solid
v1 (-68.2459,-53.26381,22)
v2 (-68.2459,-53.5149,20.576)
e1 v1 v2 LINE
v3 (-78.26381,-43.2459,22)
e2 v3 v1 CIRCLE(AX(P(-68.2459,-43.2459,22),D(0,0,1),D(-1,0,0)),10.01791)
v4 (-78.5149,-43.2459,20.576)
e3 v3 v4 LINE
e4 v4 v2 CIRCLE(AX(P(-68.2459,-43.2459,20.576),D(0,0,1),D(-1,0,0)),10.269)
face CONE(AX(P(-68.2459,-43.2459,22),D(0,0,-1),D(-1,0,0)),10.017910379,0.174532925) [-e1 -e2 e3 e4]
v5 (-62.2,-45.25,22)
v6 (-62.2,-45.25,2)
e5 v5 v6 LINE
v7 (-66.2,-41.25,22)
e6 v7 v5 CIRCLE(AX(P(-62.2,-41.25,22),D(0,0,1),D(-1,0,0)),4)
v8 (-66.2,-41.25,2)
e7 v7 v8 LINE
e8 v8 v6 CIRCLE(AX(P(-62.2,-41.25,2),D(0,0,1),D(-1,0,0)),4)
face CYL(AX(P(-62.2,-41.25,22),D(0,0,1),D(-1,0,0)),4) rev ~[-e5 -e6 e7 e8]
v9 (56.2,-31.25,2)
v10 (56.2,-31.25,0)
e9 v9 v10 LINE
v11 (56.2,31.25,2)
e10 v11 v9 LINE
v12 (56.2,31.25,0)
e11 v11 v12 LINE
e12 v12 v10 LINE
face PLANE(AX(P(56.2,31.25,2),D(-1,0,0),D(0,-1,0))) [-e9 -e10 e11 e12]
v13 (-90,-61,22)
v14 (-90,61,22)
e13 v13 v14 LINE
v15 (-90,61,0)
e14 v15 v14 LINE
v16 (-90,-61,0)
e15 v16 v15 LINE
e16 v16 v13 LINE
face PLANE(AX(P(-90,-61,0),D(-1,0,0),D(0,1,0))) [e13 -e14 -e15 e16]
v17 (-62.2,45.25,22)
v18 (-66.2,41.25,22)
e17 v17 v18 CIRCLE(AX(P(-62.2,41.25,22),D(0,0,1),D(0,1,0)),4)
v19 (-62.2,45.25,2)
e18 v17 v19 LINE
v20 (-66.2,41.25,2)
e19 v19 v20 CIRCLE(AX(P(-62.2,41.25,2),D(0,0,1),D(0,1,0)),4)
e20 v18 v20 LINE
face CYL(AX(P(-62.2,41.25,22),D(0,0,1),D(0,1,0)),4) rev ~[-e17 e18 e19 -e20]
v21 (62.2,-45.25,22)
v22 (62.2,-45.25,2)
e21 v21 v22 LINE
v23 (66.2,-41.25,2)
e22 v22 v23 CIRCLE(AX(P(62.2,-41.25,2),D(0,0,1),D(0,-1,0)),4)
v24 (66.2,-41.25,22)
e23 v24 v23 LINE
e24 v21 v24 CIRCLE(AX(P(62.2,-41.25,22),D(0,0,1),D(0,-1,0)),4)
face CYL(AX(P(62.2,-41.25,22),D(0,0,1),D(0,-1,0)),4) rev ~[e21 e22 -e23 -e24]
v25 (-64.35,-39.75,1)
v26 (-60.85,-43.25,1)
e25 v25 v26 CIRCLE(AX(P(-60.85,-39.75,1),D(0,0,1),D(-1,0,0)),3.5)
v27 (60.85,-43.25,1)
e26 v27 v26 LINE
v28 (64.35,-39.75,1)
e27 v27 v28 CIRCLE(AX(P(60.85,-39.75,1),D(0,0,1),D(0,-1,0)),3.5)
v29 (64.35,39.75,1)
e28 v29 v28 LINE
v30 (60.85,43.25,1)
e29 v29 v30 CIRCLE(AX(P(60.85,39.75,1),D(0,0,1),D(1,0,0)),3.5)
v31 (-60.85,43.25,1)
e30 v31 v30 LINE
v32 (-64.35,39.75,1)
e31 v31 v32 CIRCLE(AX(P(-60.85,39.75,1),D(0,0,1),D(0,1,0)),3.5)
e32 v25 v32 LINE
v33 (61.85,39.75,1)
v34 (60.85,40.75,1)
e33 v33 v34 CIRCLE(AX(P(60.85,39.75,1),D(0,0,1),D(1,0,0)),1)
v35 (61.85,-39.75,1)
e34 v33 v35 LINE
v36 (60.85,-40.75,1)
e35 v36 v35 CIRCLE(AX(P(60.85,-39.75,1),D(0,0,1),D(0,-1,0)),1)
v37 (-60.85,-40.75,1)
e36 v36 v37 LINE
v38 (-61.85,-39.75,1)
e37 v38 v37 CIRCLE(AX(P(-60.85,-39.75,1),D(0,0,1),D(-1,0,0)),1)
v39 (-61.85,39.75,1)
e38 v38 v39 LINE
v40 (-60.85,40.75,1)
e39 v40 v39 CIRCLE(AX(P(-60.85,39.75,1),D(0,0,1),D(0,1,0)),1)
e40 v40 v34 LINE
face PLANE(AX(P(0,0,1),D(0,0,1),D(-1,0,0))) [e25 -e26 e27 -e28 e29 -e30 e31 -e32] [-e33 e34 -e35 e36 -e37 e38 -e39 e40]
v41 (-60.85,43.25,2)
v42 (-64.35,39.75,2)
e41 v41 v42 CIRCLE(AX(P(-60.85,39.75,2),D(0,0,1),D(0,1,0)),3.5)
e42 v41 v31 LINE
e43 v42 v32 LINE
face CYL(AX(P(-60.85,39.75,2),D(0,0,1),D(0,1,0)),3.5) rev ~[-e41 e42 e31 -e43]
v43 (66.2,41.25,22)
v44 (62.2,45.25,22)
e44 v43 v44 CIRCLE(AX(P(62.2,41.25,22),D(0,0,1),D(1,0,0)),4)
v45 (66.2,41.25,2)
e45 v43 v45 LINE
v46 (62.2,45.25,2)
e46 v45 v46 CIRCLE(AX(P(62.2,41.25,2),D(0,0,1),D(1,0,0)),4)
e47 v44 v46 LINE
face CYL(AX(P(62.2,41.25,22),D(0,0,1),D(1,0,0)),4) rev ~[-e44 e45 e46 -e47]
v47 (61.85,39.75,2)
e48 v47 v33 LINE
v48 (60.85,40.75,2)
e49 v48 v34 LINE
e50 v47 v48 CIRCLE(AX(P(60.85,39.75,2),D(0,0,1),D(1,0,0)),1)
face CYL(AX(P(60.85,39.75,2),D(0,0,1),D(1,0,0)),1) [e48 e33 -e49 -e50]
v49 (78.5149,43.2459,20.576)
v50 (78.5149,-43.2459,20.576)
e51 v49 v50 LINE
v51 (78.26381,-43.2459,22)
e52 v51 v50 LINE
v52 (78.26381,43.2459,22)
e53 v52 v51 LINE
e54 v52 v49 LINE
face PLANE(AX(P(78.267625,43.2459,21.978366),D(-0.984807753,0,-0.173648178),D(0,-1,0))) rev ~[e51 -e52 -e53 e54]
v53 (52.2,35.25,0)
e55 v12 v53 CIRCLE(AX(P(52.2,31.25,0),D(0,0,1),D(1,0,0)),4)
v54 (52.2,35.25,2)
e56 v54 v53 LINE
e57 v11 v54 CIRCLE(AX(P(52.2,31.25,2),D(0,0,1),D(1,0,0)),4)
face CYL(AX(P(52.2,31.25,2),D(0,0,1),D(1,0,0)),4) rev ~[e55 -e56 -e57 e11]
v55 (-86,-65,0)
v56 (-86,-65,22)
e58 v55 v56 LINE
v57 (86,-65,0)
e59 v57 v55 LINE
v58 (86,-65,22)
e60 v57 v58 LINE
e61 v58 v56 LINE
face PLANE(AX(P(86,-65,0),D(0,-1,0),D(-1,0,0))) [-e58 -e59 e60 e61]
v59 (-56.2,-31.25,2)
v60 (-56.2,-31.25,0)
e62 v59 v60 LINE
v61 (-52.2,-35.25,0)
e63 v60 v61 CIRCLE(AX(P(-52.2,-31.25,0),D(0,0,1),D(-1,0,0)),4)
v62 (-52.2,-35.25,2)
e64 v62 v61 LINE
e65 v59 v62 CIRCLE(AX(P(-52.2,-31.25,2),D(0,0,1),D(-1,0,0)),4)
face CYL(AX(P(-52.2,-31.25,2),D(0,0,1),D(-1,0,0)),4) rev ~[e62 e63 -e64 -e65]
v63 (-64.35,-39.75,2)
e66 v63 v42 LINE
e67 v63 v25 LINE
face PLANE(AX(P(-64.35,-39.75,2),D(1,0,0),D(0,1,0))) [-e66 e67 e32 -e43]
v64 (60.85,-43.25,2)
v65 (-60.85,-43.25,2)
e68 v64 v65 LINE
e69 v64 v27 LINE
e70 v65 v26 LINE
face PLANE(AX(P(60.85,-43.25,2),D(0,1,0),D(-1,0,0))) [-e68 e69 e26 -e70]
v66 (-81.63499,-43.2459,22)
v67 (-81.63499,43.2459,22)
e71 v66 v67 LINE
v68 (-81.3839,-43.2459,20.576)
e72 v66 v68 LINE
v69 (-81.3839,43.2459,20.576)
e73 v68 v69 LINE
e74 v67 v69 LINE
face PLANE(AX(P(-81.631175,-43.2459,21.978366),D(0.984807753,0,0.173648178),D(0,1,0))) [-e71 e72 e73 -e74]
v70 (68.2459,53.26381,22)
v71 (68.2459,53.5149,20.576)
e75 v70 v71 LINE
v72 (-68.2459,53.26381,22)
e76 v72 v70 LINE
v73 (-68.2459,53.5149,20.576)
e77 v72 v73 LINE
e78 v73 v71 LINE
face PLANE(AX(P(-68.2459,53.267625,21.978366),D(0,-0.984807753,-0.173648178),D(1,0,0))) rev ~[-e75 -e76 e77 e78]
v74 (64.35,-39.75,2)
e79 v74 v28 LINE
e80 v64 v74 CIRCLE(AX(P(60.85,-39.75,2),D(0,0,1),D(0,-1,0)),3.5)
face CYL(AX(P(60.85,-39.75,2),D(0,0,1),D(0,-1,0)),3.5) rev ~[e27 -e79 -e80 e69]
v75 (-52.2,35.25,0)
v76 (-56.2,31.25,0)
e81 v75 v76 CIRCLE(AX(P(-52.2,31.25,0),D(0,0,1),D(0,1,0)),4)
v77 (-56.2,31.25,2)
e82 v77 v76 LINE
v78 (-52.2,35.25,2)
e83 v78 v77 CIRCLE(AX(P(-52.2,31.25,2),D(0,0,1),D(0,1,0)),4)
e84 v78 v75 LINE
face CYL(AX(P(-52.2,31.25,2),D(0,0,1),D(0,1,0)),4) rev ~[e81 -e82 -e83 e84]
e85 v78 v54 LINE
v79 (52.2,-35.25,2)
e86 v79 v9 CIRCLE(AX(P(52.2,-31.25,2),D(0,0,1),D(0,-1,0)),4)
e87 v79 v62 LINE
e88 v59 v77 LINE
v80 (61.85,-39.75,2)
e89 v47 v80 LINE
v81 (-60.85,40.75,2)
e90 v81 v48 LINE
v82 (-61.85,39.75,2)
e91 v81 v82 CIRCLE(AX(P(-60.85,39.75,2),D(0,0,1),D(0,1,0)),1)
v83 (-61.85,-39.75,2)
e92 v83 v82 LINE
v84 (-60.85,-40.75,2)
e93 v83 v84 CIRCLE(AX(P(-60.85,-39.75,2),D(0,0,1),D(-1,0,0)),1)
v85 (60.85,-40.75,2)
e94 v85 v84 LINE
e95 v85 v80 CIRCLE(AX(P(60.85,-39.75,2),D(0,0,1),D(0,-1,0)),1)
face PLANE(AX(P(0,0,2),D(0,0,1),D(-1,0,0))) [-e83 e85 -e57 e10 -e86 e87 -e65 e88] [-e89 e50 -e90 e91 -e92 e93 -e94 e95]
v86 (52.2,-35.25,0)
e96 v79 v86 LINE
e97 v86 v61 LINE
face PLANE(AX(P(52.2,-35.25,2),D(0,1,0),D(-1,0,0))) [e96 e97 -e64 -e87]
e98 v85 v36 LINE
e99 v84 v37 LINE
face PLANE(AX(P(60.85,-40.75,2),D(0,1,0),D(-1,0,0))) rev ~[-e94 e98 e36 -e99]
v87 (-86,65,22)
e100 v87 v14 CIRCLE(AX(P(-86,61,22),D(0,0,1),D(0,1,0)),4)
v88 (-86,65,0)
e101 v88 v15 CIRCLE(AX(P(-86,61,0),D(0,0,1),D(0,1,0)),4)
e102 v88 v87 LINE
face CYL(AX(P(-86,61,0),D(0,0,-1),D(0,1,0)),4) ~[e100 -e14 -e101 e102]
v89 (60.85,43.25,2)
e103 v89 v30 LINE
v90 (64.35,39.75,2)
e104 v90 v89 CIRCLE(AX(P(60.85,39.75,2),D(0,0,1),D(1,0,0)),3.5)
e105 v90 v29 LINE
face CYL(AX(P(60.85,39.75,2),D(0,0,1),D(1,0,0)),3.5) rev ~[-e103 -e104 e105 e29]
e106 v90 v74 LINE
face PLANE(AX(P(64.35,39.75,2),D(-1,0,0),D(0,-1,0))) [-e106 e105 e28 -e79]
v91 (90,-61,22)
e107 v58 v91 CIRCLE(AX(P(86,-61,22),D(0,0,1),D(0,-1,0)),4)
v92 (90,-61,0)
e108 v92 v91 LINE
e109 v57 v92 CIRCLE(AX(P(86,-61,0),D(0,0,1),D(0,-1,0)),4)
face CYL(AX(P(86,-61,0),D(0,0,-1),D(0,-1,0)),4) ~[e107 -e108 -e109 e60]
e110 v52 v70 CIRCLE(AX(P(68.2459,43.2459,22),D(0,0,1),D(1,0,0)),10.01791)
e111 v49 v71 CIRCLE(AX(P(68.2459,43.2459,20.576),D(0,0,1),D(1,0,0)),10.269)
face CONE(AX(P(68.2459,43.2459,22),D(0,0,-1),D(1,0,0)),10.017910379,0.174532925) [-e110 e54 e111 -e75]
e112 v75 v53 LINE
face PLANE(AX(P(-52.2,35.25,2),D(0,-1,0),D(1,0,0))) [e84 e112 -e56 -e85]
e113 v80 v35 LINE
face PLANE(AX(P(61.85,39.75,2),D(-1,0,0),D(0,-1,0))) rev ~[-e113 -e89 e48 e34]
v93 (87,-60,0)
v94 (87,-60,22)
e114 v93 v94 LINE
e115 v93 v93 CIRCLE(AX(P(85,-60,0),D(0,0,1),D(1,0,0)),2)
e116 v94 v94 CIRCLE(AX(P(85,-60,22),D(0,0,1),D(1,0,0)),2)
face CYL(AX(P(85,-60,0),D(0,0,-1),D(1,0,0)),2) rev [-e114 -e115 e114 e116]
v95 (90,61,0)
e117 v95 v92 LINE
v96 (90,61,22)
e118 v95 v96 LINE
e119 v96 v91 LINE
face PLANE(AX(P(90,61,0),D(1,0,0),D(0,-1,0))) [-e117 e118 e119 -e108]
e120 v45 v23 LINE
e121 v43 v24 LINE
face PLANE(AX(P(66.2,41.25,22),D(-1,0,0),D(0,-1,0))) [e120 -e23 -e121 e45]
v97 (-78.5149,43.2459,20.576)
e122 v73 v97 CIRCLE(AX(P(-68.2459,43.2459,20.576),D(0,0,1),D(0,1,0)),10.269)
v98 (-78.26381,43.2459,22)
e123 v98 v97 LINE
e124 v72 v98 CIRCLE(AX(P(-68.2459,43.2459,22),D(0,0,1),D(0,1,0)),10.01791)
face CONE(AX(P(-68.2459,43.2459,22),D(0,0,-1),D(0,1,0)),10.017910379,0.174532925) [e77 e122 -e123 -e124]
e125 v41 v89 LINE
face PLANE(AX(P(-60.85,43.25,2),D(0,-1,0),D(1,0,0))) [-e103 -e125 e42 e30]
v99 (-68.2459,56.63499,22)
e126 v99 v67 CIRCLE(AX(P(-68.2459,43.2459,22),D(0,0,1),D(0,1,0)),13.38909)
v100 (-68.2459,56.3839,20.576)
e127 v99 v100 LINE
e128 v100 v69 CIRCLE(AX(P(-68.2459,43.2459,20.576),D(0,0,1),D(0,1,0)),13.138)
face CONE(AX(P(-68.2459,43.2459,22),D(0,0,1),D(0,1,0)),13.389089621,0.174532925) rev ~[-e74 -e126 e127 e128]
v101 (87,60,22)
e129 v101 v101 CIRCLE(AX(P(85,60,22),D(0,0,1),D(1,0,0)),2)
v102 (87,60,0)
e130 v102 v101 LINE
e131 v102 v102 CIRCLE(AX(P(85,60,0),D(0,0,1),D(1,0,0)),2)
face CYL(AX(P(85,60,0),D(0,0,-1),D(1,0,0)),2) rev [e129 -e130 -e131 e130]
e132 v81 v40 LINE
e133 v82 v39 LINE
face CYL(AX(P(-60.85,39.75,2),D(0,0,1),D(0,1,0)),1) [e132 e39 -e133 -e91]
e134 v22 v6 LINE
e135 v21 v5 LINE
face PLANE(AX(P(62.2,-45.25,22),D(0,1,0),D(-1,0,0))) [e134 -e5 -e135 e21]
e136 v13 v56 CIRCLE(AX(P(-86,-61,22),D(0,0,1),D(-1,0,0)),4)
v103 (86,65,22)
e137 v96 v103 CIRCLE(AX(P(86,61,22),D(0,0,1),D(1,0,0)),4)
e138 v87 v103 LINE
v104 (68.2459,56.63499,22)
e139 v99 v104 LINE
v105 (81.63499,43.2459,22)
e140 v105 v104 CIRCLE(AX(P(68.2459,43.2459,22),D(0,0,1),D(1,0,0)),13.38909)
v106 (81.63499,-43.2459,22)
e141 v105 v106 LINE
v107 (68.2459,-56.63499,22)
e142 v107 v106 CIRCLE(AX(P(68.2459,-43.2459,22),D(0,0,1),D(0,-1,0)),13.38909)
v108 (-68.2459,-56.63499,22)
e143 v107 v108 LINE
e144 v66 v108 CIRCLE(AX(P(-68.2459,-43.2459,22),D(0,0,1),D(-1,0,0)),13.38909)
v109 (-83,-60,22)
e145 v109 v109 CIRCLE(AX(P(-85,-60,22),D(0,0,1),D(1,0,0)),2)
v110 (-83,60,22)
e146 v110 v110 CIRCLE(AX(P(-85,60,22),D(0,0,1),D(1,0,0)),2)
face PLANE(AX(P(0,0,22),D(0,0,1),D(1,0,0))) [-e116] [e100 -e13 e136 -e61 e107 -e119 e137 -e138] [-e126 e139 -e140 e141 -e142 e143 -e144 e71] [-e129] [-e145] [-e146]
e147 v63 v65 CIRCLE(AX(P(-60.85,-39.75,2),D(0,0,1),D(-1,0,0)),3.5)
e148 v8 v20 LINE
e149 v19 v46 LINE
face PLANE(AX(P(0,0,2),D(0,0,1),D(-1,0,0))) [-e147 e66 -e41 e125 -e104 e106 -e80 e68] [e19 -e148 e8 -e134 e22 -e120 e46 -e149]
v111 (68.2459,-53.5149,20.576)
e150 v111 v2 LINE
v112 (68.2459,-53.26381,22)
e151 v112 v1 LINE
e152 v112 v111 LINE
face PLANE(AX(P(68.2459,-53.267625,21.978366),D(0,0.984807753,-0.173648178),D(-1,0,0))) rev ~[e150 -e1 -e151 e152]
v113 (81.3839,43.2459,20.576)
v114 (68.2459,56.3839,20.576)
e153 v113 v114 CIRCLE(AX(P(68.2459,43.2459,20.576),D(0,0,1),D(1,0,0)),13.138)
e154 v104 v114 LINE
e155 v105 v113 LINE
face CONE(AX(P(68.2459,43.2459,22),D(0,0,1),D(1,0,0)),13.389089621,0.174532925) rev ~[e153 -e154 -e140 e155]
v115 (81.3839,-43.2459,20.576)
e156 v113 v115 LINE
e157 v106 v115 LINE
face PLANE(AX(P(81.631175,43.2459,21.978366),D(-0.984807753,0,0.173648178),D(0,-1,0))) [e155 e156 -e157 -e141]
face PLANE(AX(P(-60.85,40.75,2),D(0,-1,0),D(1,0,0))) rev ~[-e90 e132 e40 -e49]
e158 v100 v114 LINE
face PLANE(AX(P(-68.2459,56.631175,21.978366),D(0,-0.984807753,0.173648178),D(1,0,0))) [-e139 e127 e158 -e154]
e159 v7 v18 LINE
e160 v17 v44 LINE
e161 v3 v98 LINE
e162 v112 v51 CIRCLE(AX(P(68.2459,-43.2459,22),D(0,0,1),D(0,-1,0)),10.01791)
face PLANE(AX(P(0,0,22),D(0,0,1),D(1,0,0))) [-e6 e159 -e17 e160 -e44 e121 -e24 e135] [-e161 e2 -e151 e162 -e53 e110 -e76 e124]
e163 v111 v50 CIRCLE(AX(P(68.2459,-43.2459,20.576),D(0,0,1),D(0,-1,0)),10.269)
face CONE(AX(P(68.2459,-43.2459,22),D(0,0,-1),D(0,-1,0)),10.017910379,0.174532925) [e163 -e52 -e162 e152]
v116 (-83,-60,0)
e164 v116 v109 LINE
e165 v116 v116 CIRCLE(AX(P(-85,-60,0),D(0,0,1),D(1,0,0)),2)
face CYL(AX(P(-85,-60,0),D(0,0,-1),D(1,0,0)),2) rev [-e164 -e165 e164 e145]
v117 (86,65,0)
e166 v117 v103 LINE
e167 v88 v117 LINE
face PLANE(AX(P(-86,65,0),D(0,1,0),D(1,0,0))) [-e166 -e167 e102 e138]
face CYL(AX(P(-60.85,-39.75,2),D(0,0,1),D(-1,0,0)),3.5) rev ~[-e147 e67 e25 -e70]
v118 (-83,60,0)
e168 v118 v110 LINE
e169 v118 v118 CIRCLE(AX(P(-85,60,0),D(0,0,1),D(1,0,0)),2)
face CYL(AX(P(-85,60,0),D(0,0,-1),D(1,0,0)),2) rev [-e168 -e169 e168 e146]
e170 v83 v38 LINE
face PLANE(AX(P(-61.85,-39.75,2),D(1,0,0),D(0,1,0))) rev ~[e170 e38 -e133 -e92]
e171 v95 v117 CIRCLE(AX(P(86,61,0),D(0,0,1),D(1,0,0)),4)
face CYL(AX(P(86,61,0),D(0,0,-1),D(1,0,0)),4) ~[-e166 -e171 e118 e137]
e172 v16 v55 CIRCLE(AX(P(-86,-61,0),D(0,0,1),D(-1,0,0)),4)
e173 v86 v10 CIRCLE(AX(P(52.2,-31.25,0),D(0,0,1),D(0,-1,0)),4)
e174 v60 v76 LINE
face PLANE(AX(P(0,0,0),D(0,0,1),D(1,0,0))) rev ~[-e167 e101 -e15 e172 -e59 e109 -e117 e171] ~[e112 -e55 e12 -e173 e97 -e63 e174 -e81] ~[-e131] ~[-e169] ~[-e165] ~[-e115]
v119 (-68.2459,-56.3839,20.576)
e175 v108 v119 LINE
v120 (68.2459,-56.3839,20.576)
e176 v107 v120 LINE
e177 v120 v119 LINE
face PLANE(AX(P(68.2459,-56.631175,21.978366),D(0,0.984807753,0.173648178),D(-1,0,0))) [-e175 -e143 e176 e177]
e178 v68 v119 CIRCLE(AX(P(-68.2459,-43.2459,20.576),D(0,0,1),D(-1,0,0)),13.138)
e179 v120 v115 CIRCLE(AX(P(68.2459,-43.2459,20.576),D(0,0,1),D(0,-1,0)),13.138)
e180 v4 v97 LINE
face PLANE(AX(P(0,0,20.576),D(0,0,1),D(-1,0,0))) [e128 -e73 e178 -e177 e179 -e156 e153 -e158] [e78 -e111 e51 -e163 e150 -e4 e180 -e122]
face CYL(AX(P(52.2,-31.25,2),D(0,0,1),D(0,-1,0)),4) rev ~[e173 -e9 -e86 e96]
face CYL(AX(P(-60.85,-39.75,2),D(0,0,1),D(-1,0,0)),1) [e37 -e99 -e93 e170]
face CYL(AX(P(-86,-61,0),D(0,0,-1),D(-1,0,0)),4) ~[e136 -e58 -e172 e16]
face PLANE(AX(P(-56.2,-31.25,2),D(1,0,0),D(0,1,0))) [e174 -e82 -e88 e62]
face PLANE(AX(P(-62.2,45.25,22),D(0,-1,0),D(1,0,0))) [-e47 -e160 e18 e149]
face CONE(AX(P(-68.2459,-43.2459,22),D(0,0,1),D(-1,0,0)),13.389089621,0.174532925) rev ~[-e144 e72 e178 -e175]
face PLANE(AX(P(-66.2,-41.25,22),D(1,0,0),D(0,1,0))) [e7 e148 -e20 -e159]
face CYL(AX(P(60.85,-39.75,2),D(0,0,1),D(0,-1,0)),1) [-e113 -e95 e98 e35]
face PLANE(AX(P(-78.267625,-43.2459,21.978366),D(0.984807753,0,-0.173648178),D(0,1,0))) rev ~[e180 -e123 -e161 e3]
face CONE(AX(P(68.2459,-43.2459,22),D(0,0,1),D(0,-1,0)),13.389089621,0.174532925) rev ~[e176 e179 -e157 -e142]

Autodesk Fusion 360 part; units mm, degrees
sketch "Sketch1" plane through (0, 0, 0) normal (0, 0, 1) x (1, 0, 0)
  line L0 (86, -65) -> (-86, -65)
  line L1 (-90, -61) -> (-90, 61)
  line L2 (-86, 65) -> (86, 65)
  line L3 (90, 61) -> (90, -61)
  line L4 (90, -65) -> (-90, 65) construction
  line L5 (-90, -65) -> (90, 65) construction
  arc A0 (-86, 65) -> (-90, 61) centre (-86, 61) ccw
  arc A1 (90, 61) -> (86, 65) centre (86, 61) ccw
  arc A2 (86, -65) -> (90, -61) centre (86, -61) ccw
  arc A3 (-90, -61) -> (-86, -65) centre (-86, -61) ccw
  circle A4 centre (-85, 60) radius 2
  line L6 (0, 65) -> (0, -65) construction
  line L7 (90, 0) -> (-90, 0) construction
  circle A5 centre (85, 60) radius 2
  circle A6 centre (85, -60) radius 2
  circle A7 centre (-85, -60) radius 2
  dimension "d1" = 180
  dimension "d2" = 130
  dimension "d26" = 4
  dimension "d27" = 4
  dimension "d28" = 4
  dimension "d29" = 4
  dimension "d30" = 4
  dimension "d31" = 5
  dimension "d32" = 5
extrude "Extrude1" add sketch "Sketch1" along normal blind 22
sketch "Sketch2" plane through (0, 0, 22) normal (0, 0, 1) x (-1, 0, 0)
  line L0 (-86, -65) -> (86, -65)
  line L1 (90, -61) -> (90, 61)
  line L2 (86, 65) -> (-86, 65)
  line L3 (-90, 61) -> (-90, -61)
  line L4 (-62.2, 45.25) -> (62.2, 45.25)
  line L5 (66.2, 41.25) -> (66.2, -41.25)
  line L6 (62.2, -45.25) -> (-62.2, -45.25)
  line L7 (-66.2, -41.25) -> (-66.2, 41.25)
  line L8 (-66.2, 45.25) -> (66.2, -45.25) construction
  line L9 (66.2, 45.25) -> (-66.2, -45.25) construction
  arc A0 (86, -65) -> (90, -61) centre (86, -61) ccw
  arc A1 (90, 61) -> (86, 65) centre (86, 61) ccw
  arc A2 (-86, 65) -> (-90, 61) centre (-86, 61) ccw
  arc A3 (-90, -61) -> (-86, -65) centre (-86, -61) ccw
  circle A4 centre (85, 60) radius 2
  circle A5 centre (-85, 60) radius 2
  circle A6 centre (-85, -60) radius 2
  circle A7 centre (85, -60) radius 2
  arc A8 (62.2, -45.25) -> (66.2, -41.25) centre (62.2, -41.25) ccw
  arc A9 (-66.2, -41.25) -> (-62.2, -45.25) centre (-62.2, -41.25) ccw
  arc A10 (66.2, 41.25) -> (62.2, 45.25) centre (62.2, 41.25) ccw
  arc A11 (-62.2, 45.25) -> (-66.2, 41.25) centre (-62.2, 41.25) ccw
  dimension "d5" = 132.4
  dimension "d6" = 90.5
  dimension "d52" = 4
  dimension "d53" = 4
  dimension "d54" = 4
  dimension "d55" = 4
extrude "Extrude2" cut sketch "Sketch2" against normal blind 20 contours L4 L5 L6 L7 A8 A9 A10 A11
sketch "Sketch3" plane through (0, 0, 22) normal (0, 0, 1) x (-1, 0, 0)
  line L0 (66.2, 41.25) -> (66.2, -41.25)
  line L1 (62.2, -45.25) -> (-62.2, -45.25)
  line L2 (-66.2, -41.25) -> (-66.2, 41.25)
  line L3 (-62.2, 45.25) -> (62.2, 45.25)
  line L4 (-86, -65) -> (86, -65)
  line L5 (90, -61) -> (90, 61)
  line L6 (86, 65) -> (-86, 65)
  line L7 (-90, 61) -> (-90, -61)
  line L8 (-79.9494, 54.9494) -> (79.9494, 54.9494) construction
  line L9 (79.9494, 54.9494) -> (79.9494, -54.9494) construction
  line L10 (79.9494, -54.9494) -> (-79.9494, -54.9494) construction
  line L11 (-79.9494, -54.9494) -> (-79.9494, 54.9494) construction
  line L12 (-79.9494, 54.9494) -> (79.9494, -54.9494) construction
  line L13 (79.9494, 54.9494) -> (-79.9494, -54.9494) construction
  line L14 (78.5149, 43.2459) -> (78.5149, -43.2459)
  line L15 (68.2459, -53.5149) -> (-68.2459, -53.5149)
  line L16 (-78.5149, -43.2459) -> (-78.5149, 43.2459)
  line L17 (-69.5341, 47.3937) -> (78.5149, -53.5149) construction
  line L18 (70.6619, 45.6619) -> (-70.6619, -45.6619) construction
  line L19 (-68.2459, 56.3839) -> (68.2459, 56.3839)
  line L20 (81.3839, 43.2459) -> (81.3839, -43.2459)
  line L21 (68.2459, -56.3839) -> (-68.2459, -56.3839)
  line L22 (-81.3839, -43.2459) -> (-81.3839, 43.2459)
  line L23 (-72.429, 50.1798) -> (81.3839, -56.3839) construction
  line L24 (73.5309, 48.5309) -> (-73.5309, -48.5309) construction
  arc A0 (68.2459, -53.5149) -> (78.5149, -43.2459) centre (68.2459, -43.2459) ccw
  arc A1 (68.2459, -56.3839) -> (81.3839, -43.2459) centre (68.2459, -43.2459) ccw
  line L25 (0, -65) -> (0, 65) construction
  line L26 (-90, 0) -> (90, 0) construction
  arc A2 (-78.5149, -43.2459) -> (-68.2459, -53.5149) centre (-68.2459, -43.2459) ccw
  arc A3 (-81.3839, -43.2459) -> (-68.2459, -56.3839) centre (-68.2459, -43.2459) ccw
  arc A4 (-68.2459, 53.5149) -> (-78.5149, 43.2459) centre (-68.2459, 43.2459) ccw
  arc A5 (-68.2459, 56.3839) -> (-81.3839, 43.2459) centre (-68.2459, 43.2459) ccw
  arc A6 (78.5149, 43.2459) -> (68.2459, 53.5149) centre (68.2459, 43.2459) ccw
  arc A7 (81.3839, 43.2459) -> (68.2459, 56.3839) centre (68.2459, 43.2459) ccw
  line L27 (-68.2459, 53.5149) -> (68.2459, 53.5149)
  arc A8 (86, -65) -> (90, -61) centre (86, -61) ccw
  arc A9 (90, 61) -> (86, 65) centre (86, 61) ccw
  arc A10 (-86, 65) -> (-90, 61) centre (-86, 61) ccw
  arc A11 (-90, -61) -> (-86, -65) centre (-86, -61) ccw
  circle A12 centre (85, 60) radius 2
  circle A13 centre (-85, 60) radius 2
  circle A14 centre (-85, -60) radius 2
  circle A15 centre (85, -60) radius 2
  arc A16 (66.2, 41.25) -> (62.2, 45.25) centre (62.2, 41.25) ccw
  arc A17 (62.2, -45.25) -> (66.2, -41.25) centre (62.2, -41.25) ccw
  arc A18 (-66.2, -41.25) -> (-62.2, -45.25) centre (-62.2, -41.25) ccw
  arc A19 (-62.2, 45.25) -> (-66.2, 41.25) centre (-62.2, 41.25) ccw
  dimension "d9" = 159.8988
  dimension "d15" = 109.8988
  dimension "d16" = 1.4345
  dimension "d17" = 1.4345
  dimension "d18" = 1.4345
  dimension "d19" = 1.4345
  dimension "d20" = 10.269
  dimension "d21" = 13.138
extrude "Extrude3" cut sketch "Sketch3" against normal blind 1.424 contours L19 L20 L21 L22 A1 A3 A5 A7
draft "Draft1" angle 10 neutral plane through (0, 0, 20.576) pull (0, 0, 1) 16 faces at (-78.5149, -14.4153, 21.5253) (-70.6669, 53.2254, 21.0507) (-22.7486, 53.5149, 21.5253) (74.2025, 51.6108, 21.0507) (78.5149, 14.4153, 21.0507) (71.6046, -52.9501, 21.5253) (22.7486, -53.5149, 21.5253) (-70.6669, -53.2254, 21.0507) (-81.3839, -14.4153, 21.5253) (-68.871, -56.369, 21.0507) (22.7486, -56.3839, 21.0507) (77.7543, -52.3122, 21.0507) (81.3839, 14.4153, 21.5253) (77.3122, 52.7543, 21.0507) (-22.7486, 56.3839, 21.0507) (-73.1288, 55.4428, 21.0507)
sketch "Sketch4" plane through (0, 0, 2) normal (0, 0, 1) x (-1, 0, 0)
  line L0 (-62.2, -45.25) -> (62.2, -45.25)
  line L1 (66.2, -41.25) -> (66.2, 41.25)
  line L2 (62.2, 45.25) -> (-62.2, 45.25)
  line L3 (-66.2, 41.25) -> (-66.2, -41.25)
  line L4 (-52.2, 35.25) -> (52.2, 35.25)
  line L5 (56.2, 31.25) -> (56.2, -31.25)
  line L6 (52.2, -35.25) -> (-52.2, -35.25)
  line L7 (-56.2, -31.25) -> (-56.2, 31.25)
  line L8 (-56.2, 35.25) -> (56.2, -35.25) construction
  line L9 (56.2, 35.25) -> (-56.2, -35.25) construction
  arc A0 (66.2, 41.25) -> (62.2, 45.25) centre (62.2, 41.25) ccw
  arc A1 (-62.2, 45.25) -> (-66.2, 41.25) centre (-62.2, 41.25) ccw
  arc A2 (-66.2, -41.25) -> (-62.2, -45.25) centre (-62.2, -41.25) ccw
  arc A3 (62.2, -45.25) -> (66.2, -41.25) centre (62.2, -41.25) ccw
  arc A4 (52.2, -35.25) -> (56.2, -31.25) centre (52.2, -31.25) ccw
  arc A5 (-56.2, -31.25) -> (-52.2, -35.25) centre (-52.2, -31.25) ccw
  arc A6 (-52.2, 35.25) -> (-56.2, 31.25) centre (-52.2, 31.25) ccw
  arc A7 (56.2, 31.25) -> (52.2, 35.25) centre (52.2, 31.25) ccw
  dimension "d35" = 10
  dimension "d36" = 10
  dimension "d71" = 4
  dimension "d72" = 4
  dimension "d73" = 4
  dimension "d74" = 4
extrude "Extrude4" cut sketch "Sketch4" against normal blind 5 contours L4 L5 L6 L7 A4 A5 A6 A7
sketch "Sketch6" plane through (0, 0, 2) normal (0, 0, 1) x (-1, 0, 0)
  line L0 (56.2, 31.25) -> (56.2, -31.25)
  line L1 (52.2, -35.25) -> (-52.2, -35.25)
  line L2 (-56.2, -31.25) -> (-56.2, 31.25)
  line L3 (-52.2, 35.25) -> (52.2, 35.25)
  arc A0 (66.2, 41.25) -> (62.2, 45.25) centre (62.2, 41.25) ccw
  line L4 (62.2, 45.25) -> (-62.2, 45.25)
  arc A1 (-62.2, 45.25) -> (-66.2, 41.25) centre (-62.2, 41.25) ccw
  line L5 (-66.2, 41.25) -> (-66.2, -41.25)
  arc A2 (-66.2, -41.25) -> (-62.2, -45.25) centre (-62.2, -41.25) ccw
  line L6 (-62.2, -45.25) -> (62.2, -45.25)
  arc A3 (62.2, -45.25) -> (66.2, -41.25) centre (62.2, -41.25) ccw
  line L7 (66.2, -41.25) -> (66.2, 41.25)
  arc A4 (60.9079, -41.3399) -> (62.4799, -39.7679) centre (60.9079, -39.7679) ccw construction
  arc A5 (-62.4799, -39.7399) -> (-60.9079, -41.3119) centre (-60.9079, -39.7399) ccw construction
  line L8 (-48.9575, -41.8399) -> (48.9575, -41.8399) construction
  line L9 (48.9575, 41.8399) -> (-48.9575, 41.8399) construction
  line L10 (-62.9799, 29.7119) -> (-62.9799, 27.8175) construction
  line L11 (48.9575, -41.8399) -> (50.8519, -41.8399) construction
  line L12 (62.4799, 30.3078) -> (62.4799, 39.7679) construction
  arc A6 (-60.88, 42.74) -> (-63.88, 39.74) centre (-60.88, 39.74) ccw construction
  line L13 (63.88, 39.74) -> (63.88, -39.74) construction
  arc A7 (63.88, 39.74) -> (60.88, 42.74) centre (60.88, 39.74) ccw construction
  line L14 (-62.9799, -29.7119) -> (-62.4799, -30.3078) construction
  line L15 (51.4478, 41.3399) -> (50.8519, 41.8399) construction
  arc A8 (60.88, -42.74) -> (63.88, -39.74) centre (60.88, -39.74) ccw construction
  line L16 (-48.9575, 41.8399) -> (-50.8519, 41.8399) construction
  line L17 (-60.88, 42.74) -> (60.88, 42.74) construction
  line L18 (-62.9799, -27.8175) -> (-62.9799, -29.7119) construction
  line L19 (60.88, -42.74) -> (-60.88, -42.74) construction
  line L20 (62.9799, 29.7119) -> (62.4799, 30.3078) construction
  line L21 (-50.8519, 41.8399) -> (-51.4811, 41.3119) construction
  line L22 (62.4799, -39.7679) -> (62.4799, -30.3078) construction
  line L23 (-50.8519, -41.8399) -> (-48.9575, -41.8399) construction
  line L24 (60.9079, 41.3399) -> (51.4478, 41.3399) construction
  line L25 (50.8519, 41.8399) -> (48.9575, 41.8399) construction
  line L26 (62.9799, 27.8175) -> (62.9799, 29.7119) construction
  line L27 (51.4478, -41.3399) -> (60.9079, -41.3399) construction
  line L28 (62.9799, -27.8175) -> (62.9799, 27.8175) construction
  line L29 (-63.88, -39.74) -> (-63.88, 39.74) construction
  line L30 (50.8519, -41.8399) -> (51.4478, -41.3399) construction
  line L31 (62.9799, -29.7119) -> (62.9799, -27.8175) construction
  arc A9 (-63.88, -39.74) -> (-60.88, -42.74) centre (-60.88, -39.74) ccw construction
  arc A10 (62.4799, 39.7679) -> (60.9079, 41.3399) centre (60.9079, 39.7679) ccw construction
  line L32 (62.4799, -30.3078) -> (62.9799, -29.7119) construction
  line L33 (-62.4799, 30.3078) -> (-62.9799, 29.7119) construction
  line L34 (-60.9079, -41.3119) -> (-51.4811, -41.3119) construction
  arc A11 (-60.9079, 41.3119) -> (-62.4799, 39.7399) centre (-60.9079, 39.7399) ccw construction
  line L35 (-51.4811, -41.3119) -> (-50.8519, -41.8399) construction
  line L36 (-51.4811, 41.3119) -> (-60.9079, 41.3119) construction
  line L37 (-62.4799, 39.7399) -> (-62.4799, 30.3078) construction
  line L38 (-62.4799, -30.3078) -> (-62.4799, -39.7399) construction
  line L39 (-62.9799, 27.8175) -> (-62.9799, -27.8175) construction
  line L40 (0, -45.25) -> (0, 45.25) construction
  line L41 (-66.2, 0) -> (66.2, 0) construction
  line L42 (-60.85, 43.25) -> (60.85, 43.25)
  line L43 (64.35, 39.75) -> (64.35, -39.75)
  line L44 (60.85, -43.25) -> (-60.85, -43.25)
  line L45 (-64.35, -39.75) -> (-64.35, 39.75)
  line L46 (-64.35, 43.25) -> (64.35, -43.25) construction
  line L47 (64.35, 43.25) -> (-64.35, -43.25) construction
  arc A12 (60.85, -43.25) -> (64.35, -39.75) centre (60.85, -39.75) ccw
  arc A13 (-64.35, -39.75) -> (-60.85, -43.25) centre (-60.85, -39.75) ccw
  arc A14 (-60.85, 43.25) -> (-64.35, 39.75) centre (-60.85, 39.75) ccw
  arc A15 (64.35, 39.75) -> (60.85, 43.25) centre (60.85, 39.75) ccw
  line L48 (-60.85, 40.75) -> (60.85, 40.75)
  line L49 (61.85, 39.75) -> (61.85, -39.75)
  line L50 (60.85, -40.75) -> (-60.85, -40.75)
  line L51 (-61.85, -39.75) -> (-61.85, 39.75)
  line L52 (-61.85, 40.75) -> (61.85, -40.75) construction
  line L53 (61.85, 40.75) -> (-61.85, -40.75) construction
  arc A16 (-61.85, -39.75) -> (-60.85, -40.75) centre (-60.85, -39.75) ccw
  arc A17 (60.85, -40.75) -> (61.85, -39.75) centre (60.85, -39.75) ccw
  arc A18 (61.85, 39.75) -> (60.85, 40.75) centre (60.85, 39.75) ccw
  arc A19 (-60.85, 40.75) -> (-61.85, 39.75) centre (-60.85, 39.75) ccw
  arc A20 (52.2, -35.25) -> (56.2, -31.25) centre (52.2, -31.25) ccw
  arc A21 (-56.2, -31.25) -> (-52.2, -35.25) centre (-52.2, -31.25) ccw
  arc A22 (-52.2, 35.25) -> (-56.2, 31.25) centre (-52.2, 31.25) ccw
  arc A23 (56.2, 31.25) -> (52.2, 35.25) centre (52.2, 31.25) ccw
  dimension "d56" = 128.7
  dimension "d57" = 86.5
  dimension "d58" = 3.5
  dimension "d59" = 3.5
  dimension "d60" = 3.5
  dimension "d61" = 3.5
  dimension "d63" = 2.5
  dimension "d64" = 2.5
  dimension "d65" = 1
  dimension "d66" = 1
  dimension "d67" = 1
  dimension "d68" = 1
extrude "Extrude6" cut sketch "Sketch6" against normal blind 1 contours L42 L43 L44 L45 A12 A13 A14 A15
equation "d9 = ( ORingPerimeter - 100 mm ) / 4 + 50 mm"
equation "ORingDiameter = 1.78 mm" comment "Diamter of the O ring"
equation "ORingInnerDiameter = 170 mm" comment "Inner diamter of the o ring bore"
equation "ORingPerimeter = 2 * 3.1412 * ( ( ORingInnerDiameter / 2 ) + ORingDiameter / 2 )"
equation "PanelWidth = 80 mm"
equation "PanelLength = 115 mm"
equation "d15 = ( ORingPerimeter - 100 mm ) / 4"
equation "d16 = ( ( ORingDiameter * 1.05 ) / 2 ) + 0.5 mm"
equation "d17 = ( ( ORingDiameter * 1.05 ) / 2 ) + 0.5 mm"
equation "d18 = ( ( ORingDiameter * 1.05 ) / 2 ) + 0.5 mm"
equation "d19 = ( ( ORingDiameter * 1.05 ) / 2 ) + 0.5 mm"
equation "d20 = ( ORingDiameter ) * 6 + ORingDiameter * 0.05 - 0.5 mm"
equation "d21 = ( ORingDiameter ) * 6 + ( ORingDiameter * 1.1 ) + 0.5 mm"
equation "d22 = -ORingDiameter * 0.8"
equation "ORing2Diameter = 2 mm" comment "Second O ring Diameter"
equation "ORing2InnerDiameter = 126 mm" comment "Inner diameter of the second O Ring"
equation "ORing2Perimeter = 2 * 3.1412 * ( ( ORing2InnerDiameter / 2 ) + ORing2Diameter / 2 )"
